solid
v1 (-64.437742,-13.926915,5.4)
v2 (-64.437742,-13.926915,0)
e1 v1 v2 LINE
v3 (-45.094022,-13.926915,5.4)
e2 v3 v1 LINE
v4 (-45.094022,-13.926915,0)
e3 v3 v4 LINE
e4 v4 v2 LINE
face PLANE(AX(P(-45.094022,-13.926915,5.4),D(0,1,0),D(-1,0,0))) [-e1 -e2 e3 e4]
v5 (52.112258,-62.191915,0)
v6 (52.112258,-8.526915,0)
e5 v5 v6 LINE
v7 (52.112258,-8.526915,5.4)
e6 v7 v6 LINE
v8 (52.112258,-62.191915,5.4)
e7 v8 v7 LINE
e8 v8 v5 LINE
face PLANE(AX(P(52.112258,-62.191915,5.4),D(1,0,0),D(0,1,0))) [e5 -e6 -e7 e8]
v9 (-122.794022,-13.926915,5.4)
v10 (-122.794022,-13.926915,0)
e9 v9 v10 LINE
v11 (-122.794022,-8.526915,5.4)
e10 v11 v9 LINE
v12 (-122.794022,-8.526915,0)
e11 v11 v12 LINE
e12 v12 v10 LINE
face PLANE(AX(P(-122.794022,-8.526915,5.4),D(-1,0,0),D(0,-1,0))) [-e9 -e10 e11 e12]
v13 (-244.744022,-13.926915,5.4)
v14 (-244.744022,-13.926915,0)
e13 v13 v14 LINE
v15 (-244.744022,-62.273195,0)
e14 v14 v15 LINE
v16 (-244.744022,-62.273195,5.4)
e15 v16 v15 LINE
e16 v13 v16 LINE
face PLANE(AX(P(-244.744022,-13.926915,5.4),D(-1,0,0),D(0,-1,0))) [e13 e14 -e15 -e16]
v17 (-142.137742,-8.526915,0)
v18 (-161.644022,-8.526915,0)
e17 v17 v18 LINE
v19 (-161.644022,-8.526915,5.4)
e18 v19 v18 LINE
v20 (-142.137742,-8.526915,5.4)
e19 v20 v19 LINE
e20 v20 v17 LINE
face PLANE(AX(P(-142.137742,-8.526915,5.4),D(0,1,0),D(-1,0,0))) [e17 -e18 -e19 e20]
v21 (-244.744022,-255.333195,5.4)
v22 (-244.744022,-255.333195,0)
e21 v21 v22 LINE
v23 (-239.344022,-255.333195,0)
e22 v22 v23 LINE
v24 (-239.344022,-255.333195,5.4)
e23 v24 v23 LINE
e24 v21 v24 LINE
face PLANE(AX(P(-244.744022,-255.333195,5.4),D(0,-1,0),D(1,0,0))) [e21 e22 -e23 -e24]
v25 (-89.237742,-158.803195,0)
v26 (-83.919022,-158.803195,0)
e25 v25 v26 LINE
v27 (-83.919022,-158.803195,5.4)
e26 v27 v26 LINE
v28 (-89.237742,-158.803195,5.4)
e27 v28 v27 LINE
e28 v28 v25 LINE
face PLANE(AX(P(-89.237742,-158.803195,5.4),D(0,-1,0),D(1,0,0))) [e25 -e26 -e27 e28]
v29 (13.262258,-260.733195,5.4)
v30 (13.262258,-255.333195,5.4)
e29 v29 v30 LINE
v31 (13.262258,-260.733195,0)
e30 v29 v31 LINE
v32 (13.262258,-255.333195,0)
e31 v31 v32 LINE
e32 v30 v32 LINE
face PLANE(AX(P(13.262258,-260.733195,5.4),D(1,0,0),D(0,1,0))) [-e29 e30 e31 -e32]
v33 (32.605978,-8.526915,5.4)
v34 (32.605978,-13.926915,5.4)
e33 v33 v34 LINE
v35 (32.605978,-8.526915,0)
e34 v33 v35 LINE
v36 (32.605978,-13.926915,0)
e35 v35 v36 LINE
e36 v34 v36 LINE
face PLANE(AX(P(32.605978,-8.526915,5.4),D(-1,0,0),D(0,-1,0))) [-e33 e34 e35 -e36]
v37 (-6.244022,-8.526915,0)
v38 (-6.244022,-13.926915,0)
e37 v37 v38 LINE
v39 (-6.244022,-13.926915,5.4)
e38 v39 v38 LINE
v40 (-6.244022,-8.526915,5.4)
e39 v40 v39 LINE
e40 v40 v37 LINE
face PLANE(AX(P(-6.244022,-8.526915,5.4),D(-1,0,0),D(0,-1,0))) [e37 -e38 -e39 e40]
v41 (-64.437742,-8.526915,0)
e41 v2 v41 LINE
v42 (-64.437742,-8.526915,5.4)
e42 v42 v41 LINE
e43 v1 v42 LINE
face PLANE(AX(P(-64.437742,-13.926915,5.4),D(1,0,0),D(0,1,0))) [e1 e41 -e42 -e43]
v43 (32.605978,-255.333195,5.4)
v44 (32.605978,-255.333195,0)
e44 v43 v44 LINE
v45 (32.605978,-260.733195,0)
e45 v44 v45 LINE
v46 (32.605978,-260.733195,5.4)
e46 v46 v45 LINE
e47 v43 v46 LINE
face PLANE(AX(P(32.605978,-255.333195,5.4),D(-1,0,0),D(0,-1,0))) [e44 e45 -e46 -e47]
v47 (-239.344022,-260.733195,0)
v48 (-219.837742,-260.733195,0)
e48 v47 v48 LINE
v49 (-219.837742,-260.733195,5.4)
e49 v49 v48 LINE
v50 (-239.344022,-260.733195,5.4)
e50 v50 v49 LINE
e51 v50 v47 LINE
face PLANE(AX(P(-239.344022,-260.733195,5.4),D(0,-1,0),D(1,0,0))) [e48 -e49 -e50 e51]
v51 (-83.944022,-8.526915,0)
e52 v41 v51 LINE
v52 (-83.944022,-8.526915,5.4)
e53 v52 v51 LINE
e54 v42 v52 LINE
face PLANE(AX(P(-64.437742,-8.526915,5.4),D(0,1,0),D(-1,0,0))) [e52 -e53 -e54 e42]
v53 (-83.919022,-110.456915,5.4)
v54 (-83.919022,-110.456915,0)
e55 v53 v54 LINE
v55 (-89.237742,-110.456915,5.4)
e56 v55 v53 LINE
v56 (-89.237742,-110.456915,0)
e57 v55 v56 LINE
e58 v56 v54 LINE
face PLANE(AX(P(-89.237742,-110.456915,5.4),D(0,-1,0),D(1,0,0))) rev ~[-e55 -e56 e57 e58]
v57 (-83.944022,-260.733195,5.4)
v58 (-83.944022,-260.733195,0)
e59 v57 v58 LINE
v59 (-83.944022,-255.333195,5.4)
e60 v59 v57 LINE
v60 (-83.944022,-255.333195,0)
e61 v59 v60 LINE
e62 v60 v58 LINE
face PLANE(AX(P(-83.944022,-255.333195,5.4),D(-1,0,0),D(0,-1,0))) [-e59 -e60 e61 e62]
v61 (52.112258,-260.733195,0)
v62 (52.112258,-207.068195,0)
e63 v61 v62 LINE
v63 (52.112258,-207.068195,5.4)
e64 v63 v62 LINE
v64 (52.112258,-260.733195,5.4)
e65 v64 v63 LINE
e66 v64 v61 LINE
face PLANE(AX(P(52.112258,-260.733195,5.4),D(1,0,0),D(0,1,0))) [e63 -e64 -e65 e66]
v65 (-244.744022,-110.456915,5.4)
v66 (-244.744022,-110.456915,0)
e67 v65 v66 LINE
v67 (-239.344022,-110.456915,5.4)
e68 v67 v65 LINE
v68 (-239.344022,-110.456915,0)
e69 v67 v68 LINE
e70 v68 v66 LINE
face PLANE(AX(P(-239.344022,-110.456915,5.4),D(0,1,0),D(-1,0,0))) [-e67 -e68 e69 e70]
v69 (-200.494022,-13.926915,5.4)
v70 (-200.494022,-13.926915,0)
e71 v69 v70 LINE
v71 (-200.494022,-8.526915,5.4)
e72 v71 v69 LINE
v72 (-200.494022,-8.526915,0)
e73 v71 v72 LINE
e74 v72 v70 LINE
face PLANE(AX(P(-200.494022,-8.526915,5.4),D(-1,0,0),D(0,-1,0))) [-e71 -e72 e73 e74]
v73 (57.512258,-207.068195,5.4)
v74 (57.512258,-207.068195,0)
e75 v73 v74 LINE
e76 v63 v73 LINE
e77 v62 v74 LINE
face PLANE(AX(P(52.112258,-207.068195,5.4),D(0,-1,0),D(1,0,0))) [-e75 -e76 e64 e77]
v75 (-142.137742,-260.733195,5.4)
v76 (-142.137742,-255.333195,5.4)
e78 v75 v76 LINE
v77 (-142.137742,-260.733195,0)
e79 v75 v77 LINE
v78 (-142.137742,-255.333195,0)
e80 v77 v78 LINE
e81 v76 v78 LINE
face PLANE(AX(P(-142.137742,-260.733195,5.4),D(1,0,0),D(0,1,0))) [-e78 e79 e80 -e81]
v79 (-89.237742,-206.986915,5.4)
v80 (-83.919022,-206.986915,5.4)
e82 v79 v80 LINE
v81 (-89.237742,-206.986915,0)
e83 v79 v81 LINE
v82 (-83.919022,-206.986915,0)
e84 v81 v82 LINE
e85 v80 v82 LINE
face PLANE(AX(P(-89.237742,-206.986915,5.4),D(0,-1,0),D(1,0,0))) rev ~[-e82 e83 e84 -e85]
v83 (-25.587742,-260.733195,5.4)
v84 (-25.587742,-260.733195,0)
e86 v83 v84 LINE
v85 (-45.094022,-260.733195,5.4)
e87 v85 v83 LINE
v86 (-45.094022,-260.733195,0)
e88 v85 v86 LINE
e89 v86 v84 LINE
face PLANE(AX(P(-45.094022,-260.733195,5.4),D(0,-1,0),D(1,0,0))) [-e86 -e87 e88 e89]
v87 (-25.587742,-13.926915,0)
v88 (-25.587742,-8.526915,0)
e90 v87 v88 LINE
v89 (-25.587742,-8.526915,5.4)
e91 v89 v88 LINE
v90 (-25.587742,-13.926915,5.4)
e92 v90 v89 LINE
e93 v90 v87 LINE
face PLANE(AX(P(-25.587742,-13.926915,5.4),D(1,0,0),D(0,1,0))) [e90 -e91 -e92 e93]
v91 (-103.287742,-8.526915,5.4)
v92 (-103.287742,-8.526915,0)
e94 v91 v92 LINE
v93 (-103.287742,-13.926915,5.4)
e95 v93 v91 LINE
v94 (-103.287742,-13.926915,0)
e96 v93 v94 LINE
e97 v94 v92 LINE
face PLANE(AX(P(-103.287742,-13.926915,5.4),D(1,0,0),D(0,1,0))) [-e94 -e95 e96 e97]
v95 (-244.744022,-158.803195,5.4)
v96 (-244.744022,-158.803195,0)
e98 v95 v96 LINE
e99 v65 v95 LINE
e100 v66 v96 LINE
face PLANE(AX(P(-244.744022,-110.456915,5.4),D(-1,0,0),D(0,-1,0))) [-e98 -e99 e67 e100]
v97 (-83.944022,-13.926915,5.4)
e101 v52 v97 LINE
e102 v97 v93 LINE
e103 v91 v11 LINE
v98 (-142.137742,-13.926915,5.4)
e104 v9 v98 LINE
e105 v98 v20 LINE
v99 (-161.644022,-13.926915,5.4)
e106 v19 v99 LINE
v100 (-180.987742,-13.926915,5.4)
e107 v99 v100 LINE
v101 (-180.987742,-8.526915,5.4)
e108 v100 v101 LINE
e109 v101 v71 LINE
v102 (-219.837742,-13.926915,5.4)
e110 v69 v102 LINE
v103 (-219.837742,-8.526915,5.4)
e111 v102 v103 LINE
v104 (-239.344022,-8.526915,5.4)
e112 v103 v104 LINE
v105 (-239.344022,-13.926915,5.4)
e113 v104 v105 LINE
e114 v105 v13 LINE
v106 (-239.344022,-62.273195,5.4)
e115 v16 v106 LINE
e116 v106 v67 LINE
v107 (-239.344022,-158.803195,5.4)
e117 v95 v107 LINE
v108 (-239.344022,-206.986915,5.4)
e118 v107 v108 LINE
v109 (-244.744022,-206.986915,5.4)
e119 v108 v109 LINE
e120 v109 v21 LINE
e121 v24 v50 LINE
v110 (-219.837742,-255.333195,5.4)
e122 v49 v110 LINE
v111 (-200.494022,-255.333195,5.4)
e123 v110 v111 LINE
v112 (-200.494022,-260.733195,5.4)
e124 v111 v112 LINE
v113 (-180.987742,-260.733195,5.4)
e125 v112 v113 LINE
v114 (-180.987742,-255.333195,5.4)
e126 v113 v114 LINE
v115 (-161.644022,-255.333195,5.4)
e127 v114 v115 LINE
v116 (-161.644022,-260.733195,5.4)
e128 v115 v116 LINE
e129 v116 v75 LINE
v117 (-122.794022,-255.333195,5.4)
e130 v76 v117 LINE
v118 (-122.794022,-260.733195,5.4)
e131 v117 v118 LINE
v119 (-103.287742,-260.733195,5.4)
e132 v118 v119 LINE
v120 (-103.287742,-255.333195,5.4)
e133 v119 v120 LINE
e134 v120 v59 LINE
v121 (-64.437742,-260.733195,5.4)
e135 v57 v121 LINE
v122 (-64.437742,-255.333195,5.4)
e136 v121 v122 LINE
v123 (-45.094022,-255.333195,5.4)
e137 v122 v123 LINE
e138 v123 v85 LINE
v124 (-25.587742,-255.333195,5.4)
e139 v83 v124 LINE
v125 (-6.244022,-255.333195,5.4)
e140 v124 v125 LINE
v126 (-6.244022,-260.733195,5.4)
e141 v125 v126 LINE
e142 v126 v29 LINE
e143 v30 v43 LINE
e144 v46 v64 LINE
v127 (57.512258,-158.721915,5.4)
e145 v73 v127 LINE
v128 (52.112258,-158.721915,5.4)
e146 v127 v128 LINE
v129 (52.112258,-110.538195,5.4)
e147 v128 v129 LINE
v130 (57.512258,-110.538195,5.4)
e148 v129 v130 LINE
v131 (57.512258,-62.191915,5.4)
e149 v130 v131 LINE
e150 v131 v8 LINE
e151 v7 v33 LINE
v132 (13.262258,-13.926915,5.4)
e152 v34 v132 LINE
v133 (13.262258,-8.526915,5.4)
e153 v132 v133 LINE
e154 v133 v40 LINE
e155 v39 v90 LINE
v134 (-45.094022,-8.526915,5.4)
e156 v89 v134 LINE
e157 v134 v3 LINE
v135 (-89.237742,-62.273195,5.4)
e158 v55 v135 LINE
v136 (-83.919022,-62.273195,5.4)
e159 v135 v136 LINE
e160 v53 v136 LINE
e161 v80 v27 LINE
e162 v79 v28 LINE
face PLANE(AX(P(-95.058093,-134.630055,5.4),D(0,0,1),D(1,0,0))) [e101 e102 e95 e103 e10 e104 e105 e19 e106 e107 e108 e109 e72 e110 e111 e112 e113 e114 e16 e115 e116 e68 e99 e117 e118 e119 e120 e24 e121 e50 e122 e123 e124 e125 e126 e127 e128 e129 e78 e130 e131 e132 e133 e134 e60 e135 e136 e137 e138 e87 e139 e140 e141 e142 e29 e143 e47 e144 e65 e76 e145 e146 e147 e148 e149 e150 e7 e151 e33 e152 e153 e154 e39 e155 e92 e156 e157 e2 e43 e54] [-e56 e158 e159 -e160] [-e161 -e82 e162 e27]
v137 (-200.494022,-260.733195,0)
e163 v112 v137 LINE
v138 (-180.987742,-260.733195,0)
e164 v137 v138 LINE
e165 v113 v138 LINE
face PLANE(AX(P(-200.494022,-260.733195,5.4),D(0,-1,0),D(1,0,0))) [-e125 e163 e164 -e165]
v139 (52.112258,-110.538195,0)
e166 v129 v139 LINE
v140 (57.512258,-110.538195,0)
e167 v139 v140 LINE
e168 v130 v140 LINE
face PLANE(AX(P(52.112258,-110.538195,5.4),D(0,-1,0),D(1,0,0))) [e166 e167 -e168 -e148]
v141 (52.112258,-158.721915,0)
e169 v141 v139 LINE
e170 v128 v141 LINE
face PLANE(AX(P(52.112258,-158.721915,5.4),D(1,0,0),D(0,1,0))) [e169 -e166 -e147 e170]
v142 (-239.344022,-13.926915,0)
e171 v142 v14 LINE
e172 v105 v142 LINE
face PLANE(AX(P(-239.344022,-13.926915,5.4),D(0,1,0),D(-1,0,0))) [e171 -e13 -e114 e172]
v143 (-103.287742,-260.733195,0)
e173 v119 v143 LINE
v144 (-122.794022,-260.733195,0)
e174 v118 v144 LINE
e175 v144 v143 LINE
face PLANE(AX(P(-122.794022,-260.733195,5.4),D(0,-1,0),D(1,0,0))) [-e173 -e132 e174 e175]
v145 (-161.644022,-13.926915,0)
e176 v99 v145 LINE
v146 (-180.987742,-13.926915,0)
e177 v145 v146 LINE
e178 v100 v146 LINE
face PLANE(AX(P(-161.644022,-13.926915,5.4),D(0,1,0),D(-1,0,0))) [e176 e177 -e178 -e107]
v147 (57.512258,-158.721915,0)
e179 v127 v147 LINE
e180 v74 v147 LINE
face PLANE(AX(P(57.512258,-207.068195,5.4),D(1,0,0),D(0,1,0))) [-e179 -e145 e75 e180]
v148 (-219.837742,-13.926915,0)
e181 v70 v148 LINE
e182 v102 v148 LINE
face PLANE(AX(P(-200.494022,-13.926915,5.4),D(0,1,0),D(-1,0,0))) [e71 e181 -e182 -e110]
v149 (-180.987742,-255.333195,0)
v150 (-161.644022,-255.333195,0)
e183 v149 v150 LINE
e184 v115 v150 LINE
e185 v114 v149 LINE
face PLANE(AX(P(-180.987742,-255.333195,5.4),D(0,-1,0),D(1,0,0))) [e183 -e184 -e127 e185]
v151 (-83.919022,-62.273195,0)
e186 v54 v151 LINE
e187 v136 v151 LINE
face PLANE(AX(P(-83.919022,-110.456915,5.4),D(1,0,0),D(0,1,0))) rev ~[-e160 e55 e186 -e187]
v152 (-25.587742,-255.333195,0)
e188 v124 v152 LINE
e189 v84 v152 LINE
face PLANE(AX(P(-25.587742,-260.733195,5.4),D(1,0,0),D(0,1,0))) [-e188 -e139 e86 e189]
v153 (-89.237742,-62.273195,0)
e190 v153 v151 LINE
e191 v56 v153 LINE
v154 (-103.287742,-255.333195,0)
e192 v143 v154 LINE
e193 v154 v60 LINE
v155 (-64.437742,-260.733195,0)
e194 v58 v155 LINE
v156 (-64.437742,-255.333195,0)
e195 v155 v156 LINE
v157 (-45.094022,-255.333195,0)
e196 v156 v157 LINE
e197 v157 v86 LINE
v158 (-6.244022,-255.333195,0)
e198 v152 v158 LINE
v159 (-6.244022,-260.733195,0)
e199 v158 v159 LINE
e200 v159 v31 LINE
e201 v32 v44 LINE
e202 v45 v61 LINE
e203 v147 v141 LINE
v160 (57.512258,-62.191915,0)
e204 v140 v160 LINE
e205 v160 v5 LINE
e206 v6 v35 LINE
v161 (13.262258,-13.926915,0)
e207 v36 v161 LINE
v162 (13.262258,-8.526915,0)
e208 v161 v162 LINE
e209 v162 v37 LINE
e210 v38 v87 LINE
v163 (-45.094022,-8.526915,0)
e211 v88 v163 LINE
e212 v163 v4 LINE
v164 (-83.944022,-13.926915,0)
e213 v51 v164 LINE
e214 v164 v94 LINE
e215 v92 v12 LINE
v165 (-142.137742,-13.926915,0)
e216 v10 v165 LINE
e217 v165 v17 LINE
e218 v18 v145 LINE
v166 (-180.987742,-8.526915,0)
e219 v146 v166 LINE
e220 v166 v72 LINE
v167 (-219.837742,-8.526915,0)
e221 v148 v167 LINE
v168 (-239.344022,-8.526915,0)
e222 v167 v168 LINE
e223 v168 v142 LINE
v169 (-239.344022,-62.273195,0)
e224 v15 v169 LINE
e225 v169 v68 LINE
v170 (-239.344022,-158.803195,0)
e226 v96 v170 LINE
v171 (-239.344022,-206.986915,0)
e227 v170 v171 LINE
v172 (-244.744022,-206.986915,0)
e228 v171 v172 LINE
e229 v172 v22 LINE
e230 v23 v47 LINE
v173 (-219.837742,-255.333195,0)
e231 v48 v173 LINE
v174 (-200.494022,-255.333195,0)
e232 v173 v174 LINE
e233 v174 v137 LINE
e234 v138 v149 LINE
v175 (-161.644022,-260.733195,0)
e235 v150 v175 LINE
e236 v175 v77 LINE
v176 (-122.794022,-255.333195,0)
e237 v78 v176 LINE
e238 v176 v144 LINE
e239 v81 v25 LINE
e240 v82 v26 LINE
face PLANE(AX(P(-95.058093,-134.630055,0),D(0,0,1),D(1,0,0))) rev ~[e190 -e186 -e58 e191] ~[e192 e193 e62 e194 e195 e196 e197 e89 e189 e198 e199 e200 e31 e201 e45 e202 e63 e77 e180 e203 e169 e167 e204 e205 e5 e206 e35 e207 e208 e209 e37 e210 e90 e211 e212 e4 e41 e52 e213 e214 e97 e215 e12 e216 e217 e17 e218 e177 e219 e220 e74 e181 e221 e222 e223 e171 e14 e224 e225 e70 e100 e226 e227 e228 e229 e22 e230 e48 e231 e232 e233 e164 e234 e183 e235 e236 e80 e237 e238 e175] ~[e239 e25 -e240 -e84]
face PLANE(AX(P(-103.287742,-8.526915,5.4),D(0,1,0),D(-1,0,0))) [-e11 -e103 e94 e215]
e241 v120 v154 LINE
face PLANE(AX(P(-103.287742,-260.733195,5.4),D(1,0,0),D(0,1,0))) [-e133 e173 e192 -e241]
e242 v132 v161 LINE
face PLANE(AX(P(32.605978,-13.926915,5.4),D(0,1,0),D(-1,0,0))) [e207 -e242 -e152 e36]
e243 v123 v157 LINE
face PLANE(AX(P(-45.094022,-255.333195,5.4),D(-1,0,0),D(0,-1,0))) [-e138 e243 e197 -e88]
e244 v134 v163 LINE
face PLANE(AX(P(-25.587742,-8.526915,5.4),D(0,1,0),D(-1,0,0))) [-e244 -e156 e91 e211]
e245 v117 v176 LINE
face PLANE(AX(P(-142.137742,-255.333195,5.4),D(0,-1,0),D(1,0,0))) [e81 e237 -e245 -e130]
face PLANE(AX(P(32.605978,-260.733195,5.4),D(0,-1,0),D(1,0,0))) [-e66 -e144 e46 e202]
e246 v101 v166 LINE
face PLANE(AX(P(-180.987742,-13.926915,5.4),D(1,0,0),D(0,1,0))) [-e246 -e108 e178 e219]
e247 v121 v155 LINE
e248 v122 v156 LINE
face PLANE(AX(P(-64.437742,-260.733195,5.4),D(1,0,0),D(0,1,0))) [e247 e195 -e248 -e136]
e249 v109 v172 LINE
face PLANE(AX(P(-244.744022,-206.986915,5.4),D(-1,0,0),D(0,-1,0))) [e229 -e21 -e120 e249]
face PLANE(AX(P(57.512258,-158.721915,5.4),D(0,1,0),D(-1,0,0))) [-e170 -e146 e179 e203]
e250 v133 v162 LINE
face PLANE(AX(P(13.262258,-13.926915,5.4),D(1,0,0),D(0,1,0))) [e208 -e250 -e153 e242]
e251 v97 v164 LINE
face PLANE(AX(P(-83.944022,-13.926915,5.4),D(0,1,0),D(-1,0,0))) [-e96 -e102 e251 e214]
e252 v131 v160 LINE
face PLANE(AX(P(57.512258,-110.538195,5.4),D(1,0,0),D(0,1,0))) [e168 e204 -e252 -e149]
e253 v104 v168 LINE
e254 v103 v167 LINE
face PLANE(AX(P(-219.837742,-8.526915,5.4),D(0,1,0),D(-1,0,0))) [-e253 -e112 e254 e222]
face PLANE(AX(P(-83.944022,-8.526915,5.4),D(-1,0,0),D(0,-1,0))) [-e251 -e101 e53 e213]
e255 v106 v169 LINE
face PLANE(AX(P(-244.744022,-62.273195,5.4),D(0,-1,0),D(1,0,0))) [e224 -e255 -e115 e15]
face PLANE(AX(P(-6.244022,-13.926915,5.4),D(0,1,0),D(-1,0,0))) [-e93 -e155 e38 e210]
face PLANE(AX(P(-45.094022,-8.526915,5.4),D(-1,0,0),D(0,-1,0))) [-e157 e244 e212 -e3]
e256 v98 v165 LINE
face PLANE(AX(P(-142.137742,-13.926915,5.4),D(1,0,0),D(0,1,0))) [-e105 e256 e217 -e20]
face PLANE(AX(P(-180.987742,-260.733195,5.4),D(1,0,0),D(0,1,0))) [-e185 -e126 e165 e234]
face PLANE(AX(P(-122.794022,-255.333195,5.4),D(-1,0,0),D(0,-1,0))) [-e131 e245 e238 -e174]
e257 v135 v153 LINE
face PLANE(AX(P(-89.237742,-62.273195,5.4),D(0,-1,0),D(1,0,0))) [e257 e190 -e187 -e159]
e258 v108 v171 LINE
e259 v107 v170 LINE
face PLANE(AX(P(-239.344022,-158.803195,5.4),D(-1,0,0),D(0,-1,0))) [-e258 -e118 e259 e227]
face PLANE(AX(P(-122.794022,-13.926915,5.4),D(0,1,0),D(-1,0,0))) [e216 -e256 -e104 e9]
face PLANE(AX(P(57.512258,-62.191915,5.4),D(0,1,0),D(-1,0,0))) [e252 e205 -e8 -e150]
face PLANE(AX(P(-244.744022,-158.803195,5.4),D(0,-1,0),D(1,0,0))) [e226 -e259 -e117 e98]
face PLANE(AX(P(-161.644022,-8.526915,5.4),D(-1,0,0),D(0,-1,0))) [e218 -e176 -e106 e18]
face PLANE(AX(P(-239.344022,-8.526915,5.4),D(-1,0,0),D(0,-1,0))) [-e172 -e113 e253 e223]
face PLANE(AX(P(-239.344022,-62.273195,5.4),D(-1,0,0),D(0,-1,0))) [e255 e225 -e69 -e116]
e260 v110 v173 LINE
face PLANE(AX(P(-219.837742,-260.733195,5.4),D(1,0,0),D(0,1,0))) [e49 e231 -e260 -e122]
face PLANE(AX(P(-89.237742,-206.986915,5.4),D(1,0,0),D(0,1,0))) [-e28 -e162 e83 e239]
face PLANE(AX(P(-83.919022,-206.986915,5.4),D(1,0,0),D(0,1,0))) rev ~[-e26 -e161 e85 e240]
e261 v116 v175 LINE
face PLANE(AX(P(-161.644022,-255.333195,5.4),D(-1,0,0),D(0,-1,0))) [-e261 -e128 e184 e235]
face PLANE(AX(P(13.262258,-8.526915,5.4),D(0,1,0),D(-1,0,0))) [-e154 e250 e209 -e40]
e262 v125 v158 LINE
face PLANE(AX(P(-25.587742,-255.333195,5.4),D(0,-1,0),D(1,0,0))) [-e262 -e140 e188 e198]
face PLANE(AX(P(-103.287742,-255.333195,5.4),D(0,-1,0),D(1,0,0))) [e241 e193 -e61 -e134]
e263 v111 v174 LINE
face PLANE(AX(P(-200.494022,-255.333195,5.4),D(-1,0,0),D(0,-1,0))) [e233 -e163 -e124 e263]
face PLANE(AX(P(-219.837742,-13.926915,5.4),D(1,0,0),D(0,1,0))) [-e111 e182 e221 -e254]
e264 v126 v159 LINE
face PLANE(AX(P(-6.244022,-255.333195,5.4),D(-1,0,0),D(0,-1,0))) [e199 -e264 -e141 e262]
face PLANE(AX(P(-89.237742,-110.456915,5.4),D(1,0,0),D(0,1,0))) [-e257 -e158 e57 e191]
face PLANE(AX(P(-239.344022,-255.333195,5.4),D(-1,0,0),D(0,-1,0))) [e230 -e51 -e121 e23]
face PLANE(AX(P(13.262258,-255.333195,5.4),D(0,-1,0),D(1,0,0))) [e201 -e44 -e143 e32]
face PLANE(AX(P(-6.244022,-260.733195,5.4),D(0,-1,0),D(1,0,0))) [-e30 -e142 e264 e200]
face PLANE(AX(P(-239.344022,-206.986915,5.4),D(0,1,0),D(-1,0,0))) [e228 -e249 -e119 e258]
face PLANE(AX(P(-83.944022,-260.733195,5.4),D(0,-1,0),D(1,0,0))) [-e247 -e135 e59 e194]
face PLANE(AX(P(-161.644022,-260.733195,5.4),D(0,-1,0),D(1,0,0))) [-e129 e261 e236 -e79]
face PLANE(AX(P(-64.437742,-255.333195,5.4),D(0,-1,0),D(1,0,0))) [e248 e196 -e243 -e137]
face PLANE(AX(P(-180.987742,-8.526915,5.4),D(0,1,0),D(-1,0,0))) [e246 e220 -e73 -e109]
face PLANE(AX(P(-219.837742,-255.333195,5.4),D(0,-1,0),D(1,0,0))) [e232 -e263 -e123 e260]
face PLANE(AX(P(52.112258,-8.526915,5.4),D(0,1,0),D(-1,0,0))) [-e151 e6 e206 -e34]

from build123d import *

# Parameters (mm, degrees)
SKETCH1_W           = 5.4
SKETCH1_H           = 48.265
BOSS_EXTRUDE1_DEPTH = 5.4
SKETCH2_W           = 5.31872
SKETCH2_H           = 48.18372
BOSS_EXTRUDE2_DEPTH = 5.4


with BuildPart() as part:
    # Sketch1 → Boss-Extrude1 (new body)
    with BuildSketch(Plane.XY):
        Polygon((-181.028382108, -13.967555325), (-181.028382108, -8.567555325), (-200.453382108, -8.567555325), (-200.453382108, -13.967555325), (-219.878382108, -13.967555325), (-219.878382108, -8.567555325), (-239.303382108, -8.567555325), (-239.303382108, -13.967555325), (-244.703382108, -13.967555325), (-244.703382108, -62.232555325), (-239.303382108, -62.232555325), (-239.303382108, -110.497555325), (-244.703382108, -110.497555325), (-244.703382108, -158.762555325), (-239.303382108, -158.762555325), (-239.303382108, -207.027555325), (-244.703382109, -207.027555325), (-244.703382109, -255.292555325), (-239.303382108, -255.292555325), (-239.303382108, -260.692555325), (-219.878382108, -260.692555325), (-219.878382108, -255.292555325), (-200.453382108, -255.292555325), (-200.453382108, -260.692555325), (-181.028382108, -260.692555325), (-181.028382108, -255.292555325), (-161.603382108, -255.292555325), (-161.603382108, -260.692555325), (-142.178382108, -260.692555325), (-142.178382108, -255.292555325), (-122.753382108, -255.292555325), (-122.753382108, -260.692555325), (-103.328382108, -260.692555325), (-103.328382108, -255.292555325), (-83.903382108, -255.292555325), (-83.903382108, -260.692555325), (-64.478382108, -260.692555325), (-64.478382108, -255.292555325), (-45.053382108, -255.292555325), (-45.053382108, -260.692555325), (-25.628382108, -260.692555325), (-25.628382108, -255.292555325), (-6.203382108, -255.292555325), (-6.203382108, -260.692555325), (13.221617892, -260.692555325), (13.221617892, -255.292555325), (32.646617892, -255.292555325), (32.646617892, -260.692555325), (52.071617892, -260.692555325), (52.071617892, -207.027555325), (57.471617892, -207.027555325), (57.471617892, -158.762555325), (52.071617892, -158.762555325), (52.071617892, -110.497555325), (57.471617892, -110.497555325), (57.471617892, -62.232555325), (52.071617892, -62.232555325), (52.071617892, -8.567555325), (32.646617892, -8.567555325), (32.646617892, -13.967555325), (13.221617892, -13.967555325), (13.221617892, -8.567555325), (-6.203382108, -8.567555325), (-6.203382108, -13.967555325), (-25.628382108, -13.967555325), (-25.628382108, -8.567555325), (-45.053382108, -8.567555325), (-45.053382108, -13.967555325), (-64.478382108, -13.967555325), (-64.478382108, -8.567555325), (-83.903382108, -8.567555325), (-83.903382108, -13.967555325), (-103.328382108, -13.967555325), (-103.328382108, -8.567555325), (-122.753382108, -8.567555325), (-122.753382108, -13.967555325), (-142.178382108, -13.967555325), (-142.178382108, -8.567555325), (-161.603382108, -8.567555325), (-161.603382108, -13.967555325), align=None)
        with Locations((-86.578382108, -182.895055325)):
            Rectangle(SKETCH1_W, SKETCH1_H, mode=Mode.SUBTRACT)
        with Locations((-86.578382108, -86.365055325)):
            Rectangle(SKETCH1_W, SKETCH1_H, mode=Mode.SUBTRACT)
    extrude(amount=BOSS_EXTRUDE1_DEPTH)

    # Sketch2 → Boss-Extrude2 (add)
    with BuildSketch(Plane.XY.offset(5.4)):
        Polygon((-239.344022108, -8.526915325), (-239.344022108, -13.926915325), (-244.744022108, -13.926915325), (-244.744022108, -62.273195325), (-239.344022108, -62.273195325), (-239.344022108, -110.456915325), (-244.744022108, -110.456915325), (-244.744022108, -158.803195325), (-239.344022108, -158.803195325), (-239.344022108, -206.986915325), (-244.744022109, -206.986915325), (-244.744022109, -255.333195325), (-239.344022108, -255.333195325), (-239.344022108, -260.733195325), (-219.837742108, -260.733195325), (-219.837742108, -255.333195325), (-200.494022108, -255.333195325), (-200.494022108, -260.733195325), (-180.987742108, -260.733195325), (-180.987742108, -255.333195325), (-161.644022108, -255.333195325), (-161.644022108, -260.733195325), (-142.137742108, -260.733195325), (-142.137742108, -255.333195325), (-122.794022108, -255.333195325), (-122.794022108, -260.733195325), (-103.287742108, -260.733195325), (-103.287742108, -255.333195325), (-83.944022108, -255.333195325), (-83.944022108, -260.733195325), (-64.437742108, -260.733195325), (-64.437742108, -255.333195325), (-45.094022108, -255.333195325), (-45.094022108, -260.733195325), (-25.587742108, -260.733195325), (-25.587742108, -255.333195325), (-6.244022108, -255.333195325), (-6.244022108, -260.733195325), (13.262257892, -260.733195325), (13.262257892, -255.333195325), (32.605977892, -255.333195325), (32.605977892, -260.733195325), (52.112257892, -260.733195325), (52.112257892, -207.068195325), (57.512257892, -207.068195325), (57.512257892, -158.721915325), (52.112257892, -158.721915325), (52.112257892, -110.538195325), (57.512257892, -110.538195325), (57.512257892, -62.191915325), (52.112257892, -62.191915325), (52.112257892, -8.526915325), (32.605977892, -8.526915325), (32.605977892, -13.926915325), (13.262257892, -13.926915325), (13.262257892, -8.526915325), (-6.244022108, -8.526915325), (-6.244022108, -13.926915325), (-25.587742108, -13.926915325), (-25.587742108, -8.526915325), (-45.094022108, -8.526915325), (-45.094022108, -13.926915325), (-64.437742108, -13.926915325), (-64.437742108, -8.526915325), (-83.944022108, -8.526915325), (-83.944022108, -13.926915325), (-103.287742108, -13.926915325), (-103.287742108, -8.526915325), (-122.794022108, -8.526915325), (-122.794022108, -13.926915325), (-142.137742108, -13.926915325), (-142.137742108, -8.526915325), (-161.644022108, -8.526915325), (-161.644022108, -13.926915325), (-180.987742108, -13.926915325), (-180.987742108, -8.526915325), (-200.494022108, -8.526915325), (-200.494022108, -13.926915325), (-219.837742108, -13.926915325), (-219.837742108, -8.526915325), align=None)
        with Locations((-86.578382108, -86.365055325)):
            Rectangle(SKETCH2_W, SKETCH2_H, mode=Mode.SUBTRACT)
        with Locations((-86.578382108, -182.895055325)):
            Rectangle(SKETCH2_W, SKETCH2_H, mode=Mode.SUBTRACT)
    extrude(amount=-BOSS_EXTRUDE2_DEPTH)


solid = part.part
